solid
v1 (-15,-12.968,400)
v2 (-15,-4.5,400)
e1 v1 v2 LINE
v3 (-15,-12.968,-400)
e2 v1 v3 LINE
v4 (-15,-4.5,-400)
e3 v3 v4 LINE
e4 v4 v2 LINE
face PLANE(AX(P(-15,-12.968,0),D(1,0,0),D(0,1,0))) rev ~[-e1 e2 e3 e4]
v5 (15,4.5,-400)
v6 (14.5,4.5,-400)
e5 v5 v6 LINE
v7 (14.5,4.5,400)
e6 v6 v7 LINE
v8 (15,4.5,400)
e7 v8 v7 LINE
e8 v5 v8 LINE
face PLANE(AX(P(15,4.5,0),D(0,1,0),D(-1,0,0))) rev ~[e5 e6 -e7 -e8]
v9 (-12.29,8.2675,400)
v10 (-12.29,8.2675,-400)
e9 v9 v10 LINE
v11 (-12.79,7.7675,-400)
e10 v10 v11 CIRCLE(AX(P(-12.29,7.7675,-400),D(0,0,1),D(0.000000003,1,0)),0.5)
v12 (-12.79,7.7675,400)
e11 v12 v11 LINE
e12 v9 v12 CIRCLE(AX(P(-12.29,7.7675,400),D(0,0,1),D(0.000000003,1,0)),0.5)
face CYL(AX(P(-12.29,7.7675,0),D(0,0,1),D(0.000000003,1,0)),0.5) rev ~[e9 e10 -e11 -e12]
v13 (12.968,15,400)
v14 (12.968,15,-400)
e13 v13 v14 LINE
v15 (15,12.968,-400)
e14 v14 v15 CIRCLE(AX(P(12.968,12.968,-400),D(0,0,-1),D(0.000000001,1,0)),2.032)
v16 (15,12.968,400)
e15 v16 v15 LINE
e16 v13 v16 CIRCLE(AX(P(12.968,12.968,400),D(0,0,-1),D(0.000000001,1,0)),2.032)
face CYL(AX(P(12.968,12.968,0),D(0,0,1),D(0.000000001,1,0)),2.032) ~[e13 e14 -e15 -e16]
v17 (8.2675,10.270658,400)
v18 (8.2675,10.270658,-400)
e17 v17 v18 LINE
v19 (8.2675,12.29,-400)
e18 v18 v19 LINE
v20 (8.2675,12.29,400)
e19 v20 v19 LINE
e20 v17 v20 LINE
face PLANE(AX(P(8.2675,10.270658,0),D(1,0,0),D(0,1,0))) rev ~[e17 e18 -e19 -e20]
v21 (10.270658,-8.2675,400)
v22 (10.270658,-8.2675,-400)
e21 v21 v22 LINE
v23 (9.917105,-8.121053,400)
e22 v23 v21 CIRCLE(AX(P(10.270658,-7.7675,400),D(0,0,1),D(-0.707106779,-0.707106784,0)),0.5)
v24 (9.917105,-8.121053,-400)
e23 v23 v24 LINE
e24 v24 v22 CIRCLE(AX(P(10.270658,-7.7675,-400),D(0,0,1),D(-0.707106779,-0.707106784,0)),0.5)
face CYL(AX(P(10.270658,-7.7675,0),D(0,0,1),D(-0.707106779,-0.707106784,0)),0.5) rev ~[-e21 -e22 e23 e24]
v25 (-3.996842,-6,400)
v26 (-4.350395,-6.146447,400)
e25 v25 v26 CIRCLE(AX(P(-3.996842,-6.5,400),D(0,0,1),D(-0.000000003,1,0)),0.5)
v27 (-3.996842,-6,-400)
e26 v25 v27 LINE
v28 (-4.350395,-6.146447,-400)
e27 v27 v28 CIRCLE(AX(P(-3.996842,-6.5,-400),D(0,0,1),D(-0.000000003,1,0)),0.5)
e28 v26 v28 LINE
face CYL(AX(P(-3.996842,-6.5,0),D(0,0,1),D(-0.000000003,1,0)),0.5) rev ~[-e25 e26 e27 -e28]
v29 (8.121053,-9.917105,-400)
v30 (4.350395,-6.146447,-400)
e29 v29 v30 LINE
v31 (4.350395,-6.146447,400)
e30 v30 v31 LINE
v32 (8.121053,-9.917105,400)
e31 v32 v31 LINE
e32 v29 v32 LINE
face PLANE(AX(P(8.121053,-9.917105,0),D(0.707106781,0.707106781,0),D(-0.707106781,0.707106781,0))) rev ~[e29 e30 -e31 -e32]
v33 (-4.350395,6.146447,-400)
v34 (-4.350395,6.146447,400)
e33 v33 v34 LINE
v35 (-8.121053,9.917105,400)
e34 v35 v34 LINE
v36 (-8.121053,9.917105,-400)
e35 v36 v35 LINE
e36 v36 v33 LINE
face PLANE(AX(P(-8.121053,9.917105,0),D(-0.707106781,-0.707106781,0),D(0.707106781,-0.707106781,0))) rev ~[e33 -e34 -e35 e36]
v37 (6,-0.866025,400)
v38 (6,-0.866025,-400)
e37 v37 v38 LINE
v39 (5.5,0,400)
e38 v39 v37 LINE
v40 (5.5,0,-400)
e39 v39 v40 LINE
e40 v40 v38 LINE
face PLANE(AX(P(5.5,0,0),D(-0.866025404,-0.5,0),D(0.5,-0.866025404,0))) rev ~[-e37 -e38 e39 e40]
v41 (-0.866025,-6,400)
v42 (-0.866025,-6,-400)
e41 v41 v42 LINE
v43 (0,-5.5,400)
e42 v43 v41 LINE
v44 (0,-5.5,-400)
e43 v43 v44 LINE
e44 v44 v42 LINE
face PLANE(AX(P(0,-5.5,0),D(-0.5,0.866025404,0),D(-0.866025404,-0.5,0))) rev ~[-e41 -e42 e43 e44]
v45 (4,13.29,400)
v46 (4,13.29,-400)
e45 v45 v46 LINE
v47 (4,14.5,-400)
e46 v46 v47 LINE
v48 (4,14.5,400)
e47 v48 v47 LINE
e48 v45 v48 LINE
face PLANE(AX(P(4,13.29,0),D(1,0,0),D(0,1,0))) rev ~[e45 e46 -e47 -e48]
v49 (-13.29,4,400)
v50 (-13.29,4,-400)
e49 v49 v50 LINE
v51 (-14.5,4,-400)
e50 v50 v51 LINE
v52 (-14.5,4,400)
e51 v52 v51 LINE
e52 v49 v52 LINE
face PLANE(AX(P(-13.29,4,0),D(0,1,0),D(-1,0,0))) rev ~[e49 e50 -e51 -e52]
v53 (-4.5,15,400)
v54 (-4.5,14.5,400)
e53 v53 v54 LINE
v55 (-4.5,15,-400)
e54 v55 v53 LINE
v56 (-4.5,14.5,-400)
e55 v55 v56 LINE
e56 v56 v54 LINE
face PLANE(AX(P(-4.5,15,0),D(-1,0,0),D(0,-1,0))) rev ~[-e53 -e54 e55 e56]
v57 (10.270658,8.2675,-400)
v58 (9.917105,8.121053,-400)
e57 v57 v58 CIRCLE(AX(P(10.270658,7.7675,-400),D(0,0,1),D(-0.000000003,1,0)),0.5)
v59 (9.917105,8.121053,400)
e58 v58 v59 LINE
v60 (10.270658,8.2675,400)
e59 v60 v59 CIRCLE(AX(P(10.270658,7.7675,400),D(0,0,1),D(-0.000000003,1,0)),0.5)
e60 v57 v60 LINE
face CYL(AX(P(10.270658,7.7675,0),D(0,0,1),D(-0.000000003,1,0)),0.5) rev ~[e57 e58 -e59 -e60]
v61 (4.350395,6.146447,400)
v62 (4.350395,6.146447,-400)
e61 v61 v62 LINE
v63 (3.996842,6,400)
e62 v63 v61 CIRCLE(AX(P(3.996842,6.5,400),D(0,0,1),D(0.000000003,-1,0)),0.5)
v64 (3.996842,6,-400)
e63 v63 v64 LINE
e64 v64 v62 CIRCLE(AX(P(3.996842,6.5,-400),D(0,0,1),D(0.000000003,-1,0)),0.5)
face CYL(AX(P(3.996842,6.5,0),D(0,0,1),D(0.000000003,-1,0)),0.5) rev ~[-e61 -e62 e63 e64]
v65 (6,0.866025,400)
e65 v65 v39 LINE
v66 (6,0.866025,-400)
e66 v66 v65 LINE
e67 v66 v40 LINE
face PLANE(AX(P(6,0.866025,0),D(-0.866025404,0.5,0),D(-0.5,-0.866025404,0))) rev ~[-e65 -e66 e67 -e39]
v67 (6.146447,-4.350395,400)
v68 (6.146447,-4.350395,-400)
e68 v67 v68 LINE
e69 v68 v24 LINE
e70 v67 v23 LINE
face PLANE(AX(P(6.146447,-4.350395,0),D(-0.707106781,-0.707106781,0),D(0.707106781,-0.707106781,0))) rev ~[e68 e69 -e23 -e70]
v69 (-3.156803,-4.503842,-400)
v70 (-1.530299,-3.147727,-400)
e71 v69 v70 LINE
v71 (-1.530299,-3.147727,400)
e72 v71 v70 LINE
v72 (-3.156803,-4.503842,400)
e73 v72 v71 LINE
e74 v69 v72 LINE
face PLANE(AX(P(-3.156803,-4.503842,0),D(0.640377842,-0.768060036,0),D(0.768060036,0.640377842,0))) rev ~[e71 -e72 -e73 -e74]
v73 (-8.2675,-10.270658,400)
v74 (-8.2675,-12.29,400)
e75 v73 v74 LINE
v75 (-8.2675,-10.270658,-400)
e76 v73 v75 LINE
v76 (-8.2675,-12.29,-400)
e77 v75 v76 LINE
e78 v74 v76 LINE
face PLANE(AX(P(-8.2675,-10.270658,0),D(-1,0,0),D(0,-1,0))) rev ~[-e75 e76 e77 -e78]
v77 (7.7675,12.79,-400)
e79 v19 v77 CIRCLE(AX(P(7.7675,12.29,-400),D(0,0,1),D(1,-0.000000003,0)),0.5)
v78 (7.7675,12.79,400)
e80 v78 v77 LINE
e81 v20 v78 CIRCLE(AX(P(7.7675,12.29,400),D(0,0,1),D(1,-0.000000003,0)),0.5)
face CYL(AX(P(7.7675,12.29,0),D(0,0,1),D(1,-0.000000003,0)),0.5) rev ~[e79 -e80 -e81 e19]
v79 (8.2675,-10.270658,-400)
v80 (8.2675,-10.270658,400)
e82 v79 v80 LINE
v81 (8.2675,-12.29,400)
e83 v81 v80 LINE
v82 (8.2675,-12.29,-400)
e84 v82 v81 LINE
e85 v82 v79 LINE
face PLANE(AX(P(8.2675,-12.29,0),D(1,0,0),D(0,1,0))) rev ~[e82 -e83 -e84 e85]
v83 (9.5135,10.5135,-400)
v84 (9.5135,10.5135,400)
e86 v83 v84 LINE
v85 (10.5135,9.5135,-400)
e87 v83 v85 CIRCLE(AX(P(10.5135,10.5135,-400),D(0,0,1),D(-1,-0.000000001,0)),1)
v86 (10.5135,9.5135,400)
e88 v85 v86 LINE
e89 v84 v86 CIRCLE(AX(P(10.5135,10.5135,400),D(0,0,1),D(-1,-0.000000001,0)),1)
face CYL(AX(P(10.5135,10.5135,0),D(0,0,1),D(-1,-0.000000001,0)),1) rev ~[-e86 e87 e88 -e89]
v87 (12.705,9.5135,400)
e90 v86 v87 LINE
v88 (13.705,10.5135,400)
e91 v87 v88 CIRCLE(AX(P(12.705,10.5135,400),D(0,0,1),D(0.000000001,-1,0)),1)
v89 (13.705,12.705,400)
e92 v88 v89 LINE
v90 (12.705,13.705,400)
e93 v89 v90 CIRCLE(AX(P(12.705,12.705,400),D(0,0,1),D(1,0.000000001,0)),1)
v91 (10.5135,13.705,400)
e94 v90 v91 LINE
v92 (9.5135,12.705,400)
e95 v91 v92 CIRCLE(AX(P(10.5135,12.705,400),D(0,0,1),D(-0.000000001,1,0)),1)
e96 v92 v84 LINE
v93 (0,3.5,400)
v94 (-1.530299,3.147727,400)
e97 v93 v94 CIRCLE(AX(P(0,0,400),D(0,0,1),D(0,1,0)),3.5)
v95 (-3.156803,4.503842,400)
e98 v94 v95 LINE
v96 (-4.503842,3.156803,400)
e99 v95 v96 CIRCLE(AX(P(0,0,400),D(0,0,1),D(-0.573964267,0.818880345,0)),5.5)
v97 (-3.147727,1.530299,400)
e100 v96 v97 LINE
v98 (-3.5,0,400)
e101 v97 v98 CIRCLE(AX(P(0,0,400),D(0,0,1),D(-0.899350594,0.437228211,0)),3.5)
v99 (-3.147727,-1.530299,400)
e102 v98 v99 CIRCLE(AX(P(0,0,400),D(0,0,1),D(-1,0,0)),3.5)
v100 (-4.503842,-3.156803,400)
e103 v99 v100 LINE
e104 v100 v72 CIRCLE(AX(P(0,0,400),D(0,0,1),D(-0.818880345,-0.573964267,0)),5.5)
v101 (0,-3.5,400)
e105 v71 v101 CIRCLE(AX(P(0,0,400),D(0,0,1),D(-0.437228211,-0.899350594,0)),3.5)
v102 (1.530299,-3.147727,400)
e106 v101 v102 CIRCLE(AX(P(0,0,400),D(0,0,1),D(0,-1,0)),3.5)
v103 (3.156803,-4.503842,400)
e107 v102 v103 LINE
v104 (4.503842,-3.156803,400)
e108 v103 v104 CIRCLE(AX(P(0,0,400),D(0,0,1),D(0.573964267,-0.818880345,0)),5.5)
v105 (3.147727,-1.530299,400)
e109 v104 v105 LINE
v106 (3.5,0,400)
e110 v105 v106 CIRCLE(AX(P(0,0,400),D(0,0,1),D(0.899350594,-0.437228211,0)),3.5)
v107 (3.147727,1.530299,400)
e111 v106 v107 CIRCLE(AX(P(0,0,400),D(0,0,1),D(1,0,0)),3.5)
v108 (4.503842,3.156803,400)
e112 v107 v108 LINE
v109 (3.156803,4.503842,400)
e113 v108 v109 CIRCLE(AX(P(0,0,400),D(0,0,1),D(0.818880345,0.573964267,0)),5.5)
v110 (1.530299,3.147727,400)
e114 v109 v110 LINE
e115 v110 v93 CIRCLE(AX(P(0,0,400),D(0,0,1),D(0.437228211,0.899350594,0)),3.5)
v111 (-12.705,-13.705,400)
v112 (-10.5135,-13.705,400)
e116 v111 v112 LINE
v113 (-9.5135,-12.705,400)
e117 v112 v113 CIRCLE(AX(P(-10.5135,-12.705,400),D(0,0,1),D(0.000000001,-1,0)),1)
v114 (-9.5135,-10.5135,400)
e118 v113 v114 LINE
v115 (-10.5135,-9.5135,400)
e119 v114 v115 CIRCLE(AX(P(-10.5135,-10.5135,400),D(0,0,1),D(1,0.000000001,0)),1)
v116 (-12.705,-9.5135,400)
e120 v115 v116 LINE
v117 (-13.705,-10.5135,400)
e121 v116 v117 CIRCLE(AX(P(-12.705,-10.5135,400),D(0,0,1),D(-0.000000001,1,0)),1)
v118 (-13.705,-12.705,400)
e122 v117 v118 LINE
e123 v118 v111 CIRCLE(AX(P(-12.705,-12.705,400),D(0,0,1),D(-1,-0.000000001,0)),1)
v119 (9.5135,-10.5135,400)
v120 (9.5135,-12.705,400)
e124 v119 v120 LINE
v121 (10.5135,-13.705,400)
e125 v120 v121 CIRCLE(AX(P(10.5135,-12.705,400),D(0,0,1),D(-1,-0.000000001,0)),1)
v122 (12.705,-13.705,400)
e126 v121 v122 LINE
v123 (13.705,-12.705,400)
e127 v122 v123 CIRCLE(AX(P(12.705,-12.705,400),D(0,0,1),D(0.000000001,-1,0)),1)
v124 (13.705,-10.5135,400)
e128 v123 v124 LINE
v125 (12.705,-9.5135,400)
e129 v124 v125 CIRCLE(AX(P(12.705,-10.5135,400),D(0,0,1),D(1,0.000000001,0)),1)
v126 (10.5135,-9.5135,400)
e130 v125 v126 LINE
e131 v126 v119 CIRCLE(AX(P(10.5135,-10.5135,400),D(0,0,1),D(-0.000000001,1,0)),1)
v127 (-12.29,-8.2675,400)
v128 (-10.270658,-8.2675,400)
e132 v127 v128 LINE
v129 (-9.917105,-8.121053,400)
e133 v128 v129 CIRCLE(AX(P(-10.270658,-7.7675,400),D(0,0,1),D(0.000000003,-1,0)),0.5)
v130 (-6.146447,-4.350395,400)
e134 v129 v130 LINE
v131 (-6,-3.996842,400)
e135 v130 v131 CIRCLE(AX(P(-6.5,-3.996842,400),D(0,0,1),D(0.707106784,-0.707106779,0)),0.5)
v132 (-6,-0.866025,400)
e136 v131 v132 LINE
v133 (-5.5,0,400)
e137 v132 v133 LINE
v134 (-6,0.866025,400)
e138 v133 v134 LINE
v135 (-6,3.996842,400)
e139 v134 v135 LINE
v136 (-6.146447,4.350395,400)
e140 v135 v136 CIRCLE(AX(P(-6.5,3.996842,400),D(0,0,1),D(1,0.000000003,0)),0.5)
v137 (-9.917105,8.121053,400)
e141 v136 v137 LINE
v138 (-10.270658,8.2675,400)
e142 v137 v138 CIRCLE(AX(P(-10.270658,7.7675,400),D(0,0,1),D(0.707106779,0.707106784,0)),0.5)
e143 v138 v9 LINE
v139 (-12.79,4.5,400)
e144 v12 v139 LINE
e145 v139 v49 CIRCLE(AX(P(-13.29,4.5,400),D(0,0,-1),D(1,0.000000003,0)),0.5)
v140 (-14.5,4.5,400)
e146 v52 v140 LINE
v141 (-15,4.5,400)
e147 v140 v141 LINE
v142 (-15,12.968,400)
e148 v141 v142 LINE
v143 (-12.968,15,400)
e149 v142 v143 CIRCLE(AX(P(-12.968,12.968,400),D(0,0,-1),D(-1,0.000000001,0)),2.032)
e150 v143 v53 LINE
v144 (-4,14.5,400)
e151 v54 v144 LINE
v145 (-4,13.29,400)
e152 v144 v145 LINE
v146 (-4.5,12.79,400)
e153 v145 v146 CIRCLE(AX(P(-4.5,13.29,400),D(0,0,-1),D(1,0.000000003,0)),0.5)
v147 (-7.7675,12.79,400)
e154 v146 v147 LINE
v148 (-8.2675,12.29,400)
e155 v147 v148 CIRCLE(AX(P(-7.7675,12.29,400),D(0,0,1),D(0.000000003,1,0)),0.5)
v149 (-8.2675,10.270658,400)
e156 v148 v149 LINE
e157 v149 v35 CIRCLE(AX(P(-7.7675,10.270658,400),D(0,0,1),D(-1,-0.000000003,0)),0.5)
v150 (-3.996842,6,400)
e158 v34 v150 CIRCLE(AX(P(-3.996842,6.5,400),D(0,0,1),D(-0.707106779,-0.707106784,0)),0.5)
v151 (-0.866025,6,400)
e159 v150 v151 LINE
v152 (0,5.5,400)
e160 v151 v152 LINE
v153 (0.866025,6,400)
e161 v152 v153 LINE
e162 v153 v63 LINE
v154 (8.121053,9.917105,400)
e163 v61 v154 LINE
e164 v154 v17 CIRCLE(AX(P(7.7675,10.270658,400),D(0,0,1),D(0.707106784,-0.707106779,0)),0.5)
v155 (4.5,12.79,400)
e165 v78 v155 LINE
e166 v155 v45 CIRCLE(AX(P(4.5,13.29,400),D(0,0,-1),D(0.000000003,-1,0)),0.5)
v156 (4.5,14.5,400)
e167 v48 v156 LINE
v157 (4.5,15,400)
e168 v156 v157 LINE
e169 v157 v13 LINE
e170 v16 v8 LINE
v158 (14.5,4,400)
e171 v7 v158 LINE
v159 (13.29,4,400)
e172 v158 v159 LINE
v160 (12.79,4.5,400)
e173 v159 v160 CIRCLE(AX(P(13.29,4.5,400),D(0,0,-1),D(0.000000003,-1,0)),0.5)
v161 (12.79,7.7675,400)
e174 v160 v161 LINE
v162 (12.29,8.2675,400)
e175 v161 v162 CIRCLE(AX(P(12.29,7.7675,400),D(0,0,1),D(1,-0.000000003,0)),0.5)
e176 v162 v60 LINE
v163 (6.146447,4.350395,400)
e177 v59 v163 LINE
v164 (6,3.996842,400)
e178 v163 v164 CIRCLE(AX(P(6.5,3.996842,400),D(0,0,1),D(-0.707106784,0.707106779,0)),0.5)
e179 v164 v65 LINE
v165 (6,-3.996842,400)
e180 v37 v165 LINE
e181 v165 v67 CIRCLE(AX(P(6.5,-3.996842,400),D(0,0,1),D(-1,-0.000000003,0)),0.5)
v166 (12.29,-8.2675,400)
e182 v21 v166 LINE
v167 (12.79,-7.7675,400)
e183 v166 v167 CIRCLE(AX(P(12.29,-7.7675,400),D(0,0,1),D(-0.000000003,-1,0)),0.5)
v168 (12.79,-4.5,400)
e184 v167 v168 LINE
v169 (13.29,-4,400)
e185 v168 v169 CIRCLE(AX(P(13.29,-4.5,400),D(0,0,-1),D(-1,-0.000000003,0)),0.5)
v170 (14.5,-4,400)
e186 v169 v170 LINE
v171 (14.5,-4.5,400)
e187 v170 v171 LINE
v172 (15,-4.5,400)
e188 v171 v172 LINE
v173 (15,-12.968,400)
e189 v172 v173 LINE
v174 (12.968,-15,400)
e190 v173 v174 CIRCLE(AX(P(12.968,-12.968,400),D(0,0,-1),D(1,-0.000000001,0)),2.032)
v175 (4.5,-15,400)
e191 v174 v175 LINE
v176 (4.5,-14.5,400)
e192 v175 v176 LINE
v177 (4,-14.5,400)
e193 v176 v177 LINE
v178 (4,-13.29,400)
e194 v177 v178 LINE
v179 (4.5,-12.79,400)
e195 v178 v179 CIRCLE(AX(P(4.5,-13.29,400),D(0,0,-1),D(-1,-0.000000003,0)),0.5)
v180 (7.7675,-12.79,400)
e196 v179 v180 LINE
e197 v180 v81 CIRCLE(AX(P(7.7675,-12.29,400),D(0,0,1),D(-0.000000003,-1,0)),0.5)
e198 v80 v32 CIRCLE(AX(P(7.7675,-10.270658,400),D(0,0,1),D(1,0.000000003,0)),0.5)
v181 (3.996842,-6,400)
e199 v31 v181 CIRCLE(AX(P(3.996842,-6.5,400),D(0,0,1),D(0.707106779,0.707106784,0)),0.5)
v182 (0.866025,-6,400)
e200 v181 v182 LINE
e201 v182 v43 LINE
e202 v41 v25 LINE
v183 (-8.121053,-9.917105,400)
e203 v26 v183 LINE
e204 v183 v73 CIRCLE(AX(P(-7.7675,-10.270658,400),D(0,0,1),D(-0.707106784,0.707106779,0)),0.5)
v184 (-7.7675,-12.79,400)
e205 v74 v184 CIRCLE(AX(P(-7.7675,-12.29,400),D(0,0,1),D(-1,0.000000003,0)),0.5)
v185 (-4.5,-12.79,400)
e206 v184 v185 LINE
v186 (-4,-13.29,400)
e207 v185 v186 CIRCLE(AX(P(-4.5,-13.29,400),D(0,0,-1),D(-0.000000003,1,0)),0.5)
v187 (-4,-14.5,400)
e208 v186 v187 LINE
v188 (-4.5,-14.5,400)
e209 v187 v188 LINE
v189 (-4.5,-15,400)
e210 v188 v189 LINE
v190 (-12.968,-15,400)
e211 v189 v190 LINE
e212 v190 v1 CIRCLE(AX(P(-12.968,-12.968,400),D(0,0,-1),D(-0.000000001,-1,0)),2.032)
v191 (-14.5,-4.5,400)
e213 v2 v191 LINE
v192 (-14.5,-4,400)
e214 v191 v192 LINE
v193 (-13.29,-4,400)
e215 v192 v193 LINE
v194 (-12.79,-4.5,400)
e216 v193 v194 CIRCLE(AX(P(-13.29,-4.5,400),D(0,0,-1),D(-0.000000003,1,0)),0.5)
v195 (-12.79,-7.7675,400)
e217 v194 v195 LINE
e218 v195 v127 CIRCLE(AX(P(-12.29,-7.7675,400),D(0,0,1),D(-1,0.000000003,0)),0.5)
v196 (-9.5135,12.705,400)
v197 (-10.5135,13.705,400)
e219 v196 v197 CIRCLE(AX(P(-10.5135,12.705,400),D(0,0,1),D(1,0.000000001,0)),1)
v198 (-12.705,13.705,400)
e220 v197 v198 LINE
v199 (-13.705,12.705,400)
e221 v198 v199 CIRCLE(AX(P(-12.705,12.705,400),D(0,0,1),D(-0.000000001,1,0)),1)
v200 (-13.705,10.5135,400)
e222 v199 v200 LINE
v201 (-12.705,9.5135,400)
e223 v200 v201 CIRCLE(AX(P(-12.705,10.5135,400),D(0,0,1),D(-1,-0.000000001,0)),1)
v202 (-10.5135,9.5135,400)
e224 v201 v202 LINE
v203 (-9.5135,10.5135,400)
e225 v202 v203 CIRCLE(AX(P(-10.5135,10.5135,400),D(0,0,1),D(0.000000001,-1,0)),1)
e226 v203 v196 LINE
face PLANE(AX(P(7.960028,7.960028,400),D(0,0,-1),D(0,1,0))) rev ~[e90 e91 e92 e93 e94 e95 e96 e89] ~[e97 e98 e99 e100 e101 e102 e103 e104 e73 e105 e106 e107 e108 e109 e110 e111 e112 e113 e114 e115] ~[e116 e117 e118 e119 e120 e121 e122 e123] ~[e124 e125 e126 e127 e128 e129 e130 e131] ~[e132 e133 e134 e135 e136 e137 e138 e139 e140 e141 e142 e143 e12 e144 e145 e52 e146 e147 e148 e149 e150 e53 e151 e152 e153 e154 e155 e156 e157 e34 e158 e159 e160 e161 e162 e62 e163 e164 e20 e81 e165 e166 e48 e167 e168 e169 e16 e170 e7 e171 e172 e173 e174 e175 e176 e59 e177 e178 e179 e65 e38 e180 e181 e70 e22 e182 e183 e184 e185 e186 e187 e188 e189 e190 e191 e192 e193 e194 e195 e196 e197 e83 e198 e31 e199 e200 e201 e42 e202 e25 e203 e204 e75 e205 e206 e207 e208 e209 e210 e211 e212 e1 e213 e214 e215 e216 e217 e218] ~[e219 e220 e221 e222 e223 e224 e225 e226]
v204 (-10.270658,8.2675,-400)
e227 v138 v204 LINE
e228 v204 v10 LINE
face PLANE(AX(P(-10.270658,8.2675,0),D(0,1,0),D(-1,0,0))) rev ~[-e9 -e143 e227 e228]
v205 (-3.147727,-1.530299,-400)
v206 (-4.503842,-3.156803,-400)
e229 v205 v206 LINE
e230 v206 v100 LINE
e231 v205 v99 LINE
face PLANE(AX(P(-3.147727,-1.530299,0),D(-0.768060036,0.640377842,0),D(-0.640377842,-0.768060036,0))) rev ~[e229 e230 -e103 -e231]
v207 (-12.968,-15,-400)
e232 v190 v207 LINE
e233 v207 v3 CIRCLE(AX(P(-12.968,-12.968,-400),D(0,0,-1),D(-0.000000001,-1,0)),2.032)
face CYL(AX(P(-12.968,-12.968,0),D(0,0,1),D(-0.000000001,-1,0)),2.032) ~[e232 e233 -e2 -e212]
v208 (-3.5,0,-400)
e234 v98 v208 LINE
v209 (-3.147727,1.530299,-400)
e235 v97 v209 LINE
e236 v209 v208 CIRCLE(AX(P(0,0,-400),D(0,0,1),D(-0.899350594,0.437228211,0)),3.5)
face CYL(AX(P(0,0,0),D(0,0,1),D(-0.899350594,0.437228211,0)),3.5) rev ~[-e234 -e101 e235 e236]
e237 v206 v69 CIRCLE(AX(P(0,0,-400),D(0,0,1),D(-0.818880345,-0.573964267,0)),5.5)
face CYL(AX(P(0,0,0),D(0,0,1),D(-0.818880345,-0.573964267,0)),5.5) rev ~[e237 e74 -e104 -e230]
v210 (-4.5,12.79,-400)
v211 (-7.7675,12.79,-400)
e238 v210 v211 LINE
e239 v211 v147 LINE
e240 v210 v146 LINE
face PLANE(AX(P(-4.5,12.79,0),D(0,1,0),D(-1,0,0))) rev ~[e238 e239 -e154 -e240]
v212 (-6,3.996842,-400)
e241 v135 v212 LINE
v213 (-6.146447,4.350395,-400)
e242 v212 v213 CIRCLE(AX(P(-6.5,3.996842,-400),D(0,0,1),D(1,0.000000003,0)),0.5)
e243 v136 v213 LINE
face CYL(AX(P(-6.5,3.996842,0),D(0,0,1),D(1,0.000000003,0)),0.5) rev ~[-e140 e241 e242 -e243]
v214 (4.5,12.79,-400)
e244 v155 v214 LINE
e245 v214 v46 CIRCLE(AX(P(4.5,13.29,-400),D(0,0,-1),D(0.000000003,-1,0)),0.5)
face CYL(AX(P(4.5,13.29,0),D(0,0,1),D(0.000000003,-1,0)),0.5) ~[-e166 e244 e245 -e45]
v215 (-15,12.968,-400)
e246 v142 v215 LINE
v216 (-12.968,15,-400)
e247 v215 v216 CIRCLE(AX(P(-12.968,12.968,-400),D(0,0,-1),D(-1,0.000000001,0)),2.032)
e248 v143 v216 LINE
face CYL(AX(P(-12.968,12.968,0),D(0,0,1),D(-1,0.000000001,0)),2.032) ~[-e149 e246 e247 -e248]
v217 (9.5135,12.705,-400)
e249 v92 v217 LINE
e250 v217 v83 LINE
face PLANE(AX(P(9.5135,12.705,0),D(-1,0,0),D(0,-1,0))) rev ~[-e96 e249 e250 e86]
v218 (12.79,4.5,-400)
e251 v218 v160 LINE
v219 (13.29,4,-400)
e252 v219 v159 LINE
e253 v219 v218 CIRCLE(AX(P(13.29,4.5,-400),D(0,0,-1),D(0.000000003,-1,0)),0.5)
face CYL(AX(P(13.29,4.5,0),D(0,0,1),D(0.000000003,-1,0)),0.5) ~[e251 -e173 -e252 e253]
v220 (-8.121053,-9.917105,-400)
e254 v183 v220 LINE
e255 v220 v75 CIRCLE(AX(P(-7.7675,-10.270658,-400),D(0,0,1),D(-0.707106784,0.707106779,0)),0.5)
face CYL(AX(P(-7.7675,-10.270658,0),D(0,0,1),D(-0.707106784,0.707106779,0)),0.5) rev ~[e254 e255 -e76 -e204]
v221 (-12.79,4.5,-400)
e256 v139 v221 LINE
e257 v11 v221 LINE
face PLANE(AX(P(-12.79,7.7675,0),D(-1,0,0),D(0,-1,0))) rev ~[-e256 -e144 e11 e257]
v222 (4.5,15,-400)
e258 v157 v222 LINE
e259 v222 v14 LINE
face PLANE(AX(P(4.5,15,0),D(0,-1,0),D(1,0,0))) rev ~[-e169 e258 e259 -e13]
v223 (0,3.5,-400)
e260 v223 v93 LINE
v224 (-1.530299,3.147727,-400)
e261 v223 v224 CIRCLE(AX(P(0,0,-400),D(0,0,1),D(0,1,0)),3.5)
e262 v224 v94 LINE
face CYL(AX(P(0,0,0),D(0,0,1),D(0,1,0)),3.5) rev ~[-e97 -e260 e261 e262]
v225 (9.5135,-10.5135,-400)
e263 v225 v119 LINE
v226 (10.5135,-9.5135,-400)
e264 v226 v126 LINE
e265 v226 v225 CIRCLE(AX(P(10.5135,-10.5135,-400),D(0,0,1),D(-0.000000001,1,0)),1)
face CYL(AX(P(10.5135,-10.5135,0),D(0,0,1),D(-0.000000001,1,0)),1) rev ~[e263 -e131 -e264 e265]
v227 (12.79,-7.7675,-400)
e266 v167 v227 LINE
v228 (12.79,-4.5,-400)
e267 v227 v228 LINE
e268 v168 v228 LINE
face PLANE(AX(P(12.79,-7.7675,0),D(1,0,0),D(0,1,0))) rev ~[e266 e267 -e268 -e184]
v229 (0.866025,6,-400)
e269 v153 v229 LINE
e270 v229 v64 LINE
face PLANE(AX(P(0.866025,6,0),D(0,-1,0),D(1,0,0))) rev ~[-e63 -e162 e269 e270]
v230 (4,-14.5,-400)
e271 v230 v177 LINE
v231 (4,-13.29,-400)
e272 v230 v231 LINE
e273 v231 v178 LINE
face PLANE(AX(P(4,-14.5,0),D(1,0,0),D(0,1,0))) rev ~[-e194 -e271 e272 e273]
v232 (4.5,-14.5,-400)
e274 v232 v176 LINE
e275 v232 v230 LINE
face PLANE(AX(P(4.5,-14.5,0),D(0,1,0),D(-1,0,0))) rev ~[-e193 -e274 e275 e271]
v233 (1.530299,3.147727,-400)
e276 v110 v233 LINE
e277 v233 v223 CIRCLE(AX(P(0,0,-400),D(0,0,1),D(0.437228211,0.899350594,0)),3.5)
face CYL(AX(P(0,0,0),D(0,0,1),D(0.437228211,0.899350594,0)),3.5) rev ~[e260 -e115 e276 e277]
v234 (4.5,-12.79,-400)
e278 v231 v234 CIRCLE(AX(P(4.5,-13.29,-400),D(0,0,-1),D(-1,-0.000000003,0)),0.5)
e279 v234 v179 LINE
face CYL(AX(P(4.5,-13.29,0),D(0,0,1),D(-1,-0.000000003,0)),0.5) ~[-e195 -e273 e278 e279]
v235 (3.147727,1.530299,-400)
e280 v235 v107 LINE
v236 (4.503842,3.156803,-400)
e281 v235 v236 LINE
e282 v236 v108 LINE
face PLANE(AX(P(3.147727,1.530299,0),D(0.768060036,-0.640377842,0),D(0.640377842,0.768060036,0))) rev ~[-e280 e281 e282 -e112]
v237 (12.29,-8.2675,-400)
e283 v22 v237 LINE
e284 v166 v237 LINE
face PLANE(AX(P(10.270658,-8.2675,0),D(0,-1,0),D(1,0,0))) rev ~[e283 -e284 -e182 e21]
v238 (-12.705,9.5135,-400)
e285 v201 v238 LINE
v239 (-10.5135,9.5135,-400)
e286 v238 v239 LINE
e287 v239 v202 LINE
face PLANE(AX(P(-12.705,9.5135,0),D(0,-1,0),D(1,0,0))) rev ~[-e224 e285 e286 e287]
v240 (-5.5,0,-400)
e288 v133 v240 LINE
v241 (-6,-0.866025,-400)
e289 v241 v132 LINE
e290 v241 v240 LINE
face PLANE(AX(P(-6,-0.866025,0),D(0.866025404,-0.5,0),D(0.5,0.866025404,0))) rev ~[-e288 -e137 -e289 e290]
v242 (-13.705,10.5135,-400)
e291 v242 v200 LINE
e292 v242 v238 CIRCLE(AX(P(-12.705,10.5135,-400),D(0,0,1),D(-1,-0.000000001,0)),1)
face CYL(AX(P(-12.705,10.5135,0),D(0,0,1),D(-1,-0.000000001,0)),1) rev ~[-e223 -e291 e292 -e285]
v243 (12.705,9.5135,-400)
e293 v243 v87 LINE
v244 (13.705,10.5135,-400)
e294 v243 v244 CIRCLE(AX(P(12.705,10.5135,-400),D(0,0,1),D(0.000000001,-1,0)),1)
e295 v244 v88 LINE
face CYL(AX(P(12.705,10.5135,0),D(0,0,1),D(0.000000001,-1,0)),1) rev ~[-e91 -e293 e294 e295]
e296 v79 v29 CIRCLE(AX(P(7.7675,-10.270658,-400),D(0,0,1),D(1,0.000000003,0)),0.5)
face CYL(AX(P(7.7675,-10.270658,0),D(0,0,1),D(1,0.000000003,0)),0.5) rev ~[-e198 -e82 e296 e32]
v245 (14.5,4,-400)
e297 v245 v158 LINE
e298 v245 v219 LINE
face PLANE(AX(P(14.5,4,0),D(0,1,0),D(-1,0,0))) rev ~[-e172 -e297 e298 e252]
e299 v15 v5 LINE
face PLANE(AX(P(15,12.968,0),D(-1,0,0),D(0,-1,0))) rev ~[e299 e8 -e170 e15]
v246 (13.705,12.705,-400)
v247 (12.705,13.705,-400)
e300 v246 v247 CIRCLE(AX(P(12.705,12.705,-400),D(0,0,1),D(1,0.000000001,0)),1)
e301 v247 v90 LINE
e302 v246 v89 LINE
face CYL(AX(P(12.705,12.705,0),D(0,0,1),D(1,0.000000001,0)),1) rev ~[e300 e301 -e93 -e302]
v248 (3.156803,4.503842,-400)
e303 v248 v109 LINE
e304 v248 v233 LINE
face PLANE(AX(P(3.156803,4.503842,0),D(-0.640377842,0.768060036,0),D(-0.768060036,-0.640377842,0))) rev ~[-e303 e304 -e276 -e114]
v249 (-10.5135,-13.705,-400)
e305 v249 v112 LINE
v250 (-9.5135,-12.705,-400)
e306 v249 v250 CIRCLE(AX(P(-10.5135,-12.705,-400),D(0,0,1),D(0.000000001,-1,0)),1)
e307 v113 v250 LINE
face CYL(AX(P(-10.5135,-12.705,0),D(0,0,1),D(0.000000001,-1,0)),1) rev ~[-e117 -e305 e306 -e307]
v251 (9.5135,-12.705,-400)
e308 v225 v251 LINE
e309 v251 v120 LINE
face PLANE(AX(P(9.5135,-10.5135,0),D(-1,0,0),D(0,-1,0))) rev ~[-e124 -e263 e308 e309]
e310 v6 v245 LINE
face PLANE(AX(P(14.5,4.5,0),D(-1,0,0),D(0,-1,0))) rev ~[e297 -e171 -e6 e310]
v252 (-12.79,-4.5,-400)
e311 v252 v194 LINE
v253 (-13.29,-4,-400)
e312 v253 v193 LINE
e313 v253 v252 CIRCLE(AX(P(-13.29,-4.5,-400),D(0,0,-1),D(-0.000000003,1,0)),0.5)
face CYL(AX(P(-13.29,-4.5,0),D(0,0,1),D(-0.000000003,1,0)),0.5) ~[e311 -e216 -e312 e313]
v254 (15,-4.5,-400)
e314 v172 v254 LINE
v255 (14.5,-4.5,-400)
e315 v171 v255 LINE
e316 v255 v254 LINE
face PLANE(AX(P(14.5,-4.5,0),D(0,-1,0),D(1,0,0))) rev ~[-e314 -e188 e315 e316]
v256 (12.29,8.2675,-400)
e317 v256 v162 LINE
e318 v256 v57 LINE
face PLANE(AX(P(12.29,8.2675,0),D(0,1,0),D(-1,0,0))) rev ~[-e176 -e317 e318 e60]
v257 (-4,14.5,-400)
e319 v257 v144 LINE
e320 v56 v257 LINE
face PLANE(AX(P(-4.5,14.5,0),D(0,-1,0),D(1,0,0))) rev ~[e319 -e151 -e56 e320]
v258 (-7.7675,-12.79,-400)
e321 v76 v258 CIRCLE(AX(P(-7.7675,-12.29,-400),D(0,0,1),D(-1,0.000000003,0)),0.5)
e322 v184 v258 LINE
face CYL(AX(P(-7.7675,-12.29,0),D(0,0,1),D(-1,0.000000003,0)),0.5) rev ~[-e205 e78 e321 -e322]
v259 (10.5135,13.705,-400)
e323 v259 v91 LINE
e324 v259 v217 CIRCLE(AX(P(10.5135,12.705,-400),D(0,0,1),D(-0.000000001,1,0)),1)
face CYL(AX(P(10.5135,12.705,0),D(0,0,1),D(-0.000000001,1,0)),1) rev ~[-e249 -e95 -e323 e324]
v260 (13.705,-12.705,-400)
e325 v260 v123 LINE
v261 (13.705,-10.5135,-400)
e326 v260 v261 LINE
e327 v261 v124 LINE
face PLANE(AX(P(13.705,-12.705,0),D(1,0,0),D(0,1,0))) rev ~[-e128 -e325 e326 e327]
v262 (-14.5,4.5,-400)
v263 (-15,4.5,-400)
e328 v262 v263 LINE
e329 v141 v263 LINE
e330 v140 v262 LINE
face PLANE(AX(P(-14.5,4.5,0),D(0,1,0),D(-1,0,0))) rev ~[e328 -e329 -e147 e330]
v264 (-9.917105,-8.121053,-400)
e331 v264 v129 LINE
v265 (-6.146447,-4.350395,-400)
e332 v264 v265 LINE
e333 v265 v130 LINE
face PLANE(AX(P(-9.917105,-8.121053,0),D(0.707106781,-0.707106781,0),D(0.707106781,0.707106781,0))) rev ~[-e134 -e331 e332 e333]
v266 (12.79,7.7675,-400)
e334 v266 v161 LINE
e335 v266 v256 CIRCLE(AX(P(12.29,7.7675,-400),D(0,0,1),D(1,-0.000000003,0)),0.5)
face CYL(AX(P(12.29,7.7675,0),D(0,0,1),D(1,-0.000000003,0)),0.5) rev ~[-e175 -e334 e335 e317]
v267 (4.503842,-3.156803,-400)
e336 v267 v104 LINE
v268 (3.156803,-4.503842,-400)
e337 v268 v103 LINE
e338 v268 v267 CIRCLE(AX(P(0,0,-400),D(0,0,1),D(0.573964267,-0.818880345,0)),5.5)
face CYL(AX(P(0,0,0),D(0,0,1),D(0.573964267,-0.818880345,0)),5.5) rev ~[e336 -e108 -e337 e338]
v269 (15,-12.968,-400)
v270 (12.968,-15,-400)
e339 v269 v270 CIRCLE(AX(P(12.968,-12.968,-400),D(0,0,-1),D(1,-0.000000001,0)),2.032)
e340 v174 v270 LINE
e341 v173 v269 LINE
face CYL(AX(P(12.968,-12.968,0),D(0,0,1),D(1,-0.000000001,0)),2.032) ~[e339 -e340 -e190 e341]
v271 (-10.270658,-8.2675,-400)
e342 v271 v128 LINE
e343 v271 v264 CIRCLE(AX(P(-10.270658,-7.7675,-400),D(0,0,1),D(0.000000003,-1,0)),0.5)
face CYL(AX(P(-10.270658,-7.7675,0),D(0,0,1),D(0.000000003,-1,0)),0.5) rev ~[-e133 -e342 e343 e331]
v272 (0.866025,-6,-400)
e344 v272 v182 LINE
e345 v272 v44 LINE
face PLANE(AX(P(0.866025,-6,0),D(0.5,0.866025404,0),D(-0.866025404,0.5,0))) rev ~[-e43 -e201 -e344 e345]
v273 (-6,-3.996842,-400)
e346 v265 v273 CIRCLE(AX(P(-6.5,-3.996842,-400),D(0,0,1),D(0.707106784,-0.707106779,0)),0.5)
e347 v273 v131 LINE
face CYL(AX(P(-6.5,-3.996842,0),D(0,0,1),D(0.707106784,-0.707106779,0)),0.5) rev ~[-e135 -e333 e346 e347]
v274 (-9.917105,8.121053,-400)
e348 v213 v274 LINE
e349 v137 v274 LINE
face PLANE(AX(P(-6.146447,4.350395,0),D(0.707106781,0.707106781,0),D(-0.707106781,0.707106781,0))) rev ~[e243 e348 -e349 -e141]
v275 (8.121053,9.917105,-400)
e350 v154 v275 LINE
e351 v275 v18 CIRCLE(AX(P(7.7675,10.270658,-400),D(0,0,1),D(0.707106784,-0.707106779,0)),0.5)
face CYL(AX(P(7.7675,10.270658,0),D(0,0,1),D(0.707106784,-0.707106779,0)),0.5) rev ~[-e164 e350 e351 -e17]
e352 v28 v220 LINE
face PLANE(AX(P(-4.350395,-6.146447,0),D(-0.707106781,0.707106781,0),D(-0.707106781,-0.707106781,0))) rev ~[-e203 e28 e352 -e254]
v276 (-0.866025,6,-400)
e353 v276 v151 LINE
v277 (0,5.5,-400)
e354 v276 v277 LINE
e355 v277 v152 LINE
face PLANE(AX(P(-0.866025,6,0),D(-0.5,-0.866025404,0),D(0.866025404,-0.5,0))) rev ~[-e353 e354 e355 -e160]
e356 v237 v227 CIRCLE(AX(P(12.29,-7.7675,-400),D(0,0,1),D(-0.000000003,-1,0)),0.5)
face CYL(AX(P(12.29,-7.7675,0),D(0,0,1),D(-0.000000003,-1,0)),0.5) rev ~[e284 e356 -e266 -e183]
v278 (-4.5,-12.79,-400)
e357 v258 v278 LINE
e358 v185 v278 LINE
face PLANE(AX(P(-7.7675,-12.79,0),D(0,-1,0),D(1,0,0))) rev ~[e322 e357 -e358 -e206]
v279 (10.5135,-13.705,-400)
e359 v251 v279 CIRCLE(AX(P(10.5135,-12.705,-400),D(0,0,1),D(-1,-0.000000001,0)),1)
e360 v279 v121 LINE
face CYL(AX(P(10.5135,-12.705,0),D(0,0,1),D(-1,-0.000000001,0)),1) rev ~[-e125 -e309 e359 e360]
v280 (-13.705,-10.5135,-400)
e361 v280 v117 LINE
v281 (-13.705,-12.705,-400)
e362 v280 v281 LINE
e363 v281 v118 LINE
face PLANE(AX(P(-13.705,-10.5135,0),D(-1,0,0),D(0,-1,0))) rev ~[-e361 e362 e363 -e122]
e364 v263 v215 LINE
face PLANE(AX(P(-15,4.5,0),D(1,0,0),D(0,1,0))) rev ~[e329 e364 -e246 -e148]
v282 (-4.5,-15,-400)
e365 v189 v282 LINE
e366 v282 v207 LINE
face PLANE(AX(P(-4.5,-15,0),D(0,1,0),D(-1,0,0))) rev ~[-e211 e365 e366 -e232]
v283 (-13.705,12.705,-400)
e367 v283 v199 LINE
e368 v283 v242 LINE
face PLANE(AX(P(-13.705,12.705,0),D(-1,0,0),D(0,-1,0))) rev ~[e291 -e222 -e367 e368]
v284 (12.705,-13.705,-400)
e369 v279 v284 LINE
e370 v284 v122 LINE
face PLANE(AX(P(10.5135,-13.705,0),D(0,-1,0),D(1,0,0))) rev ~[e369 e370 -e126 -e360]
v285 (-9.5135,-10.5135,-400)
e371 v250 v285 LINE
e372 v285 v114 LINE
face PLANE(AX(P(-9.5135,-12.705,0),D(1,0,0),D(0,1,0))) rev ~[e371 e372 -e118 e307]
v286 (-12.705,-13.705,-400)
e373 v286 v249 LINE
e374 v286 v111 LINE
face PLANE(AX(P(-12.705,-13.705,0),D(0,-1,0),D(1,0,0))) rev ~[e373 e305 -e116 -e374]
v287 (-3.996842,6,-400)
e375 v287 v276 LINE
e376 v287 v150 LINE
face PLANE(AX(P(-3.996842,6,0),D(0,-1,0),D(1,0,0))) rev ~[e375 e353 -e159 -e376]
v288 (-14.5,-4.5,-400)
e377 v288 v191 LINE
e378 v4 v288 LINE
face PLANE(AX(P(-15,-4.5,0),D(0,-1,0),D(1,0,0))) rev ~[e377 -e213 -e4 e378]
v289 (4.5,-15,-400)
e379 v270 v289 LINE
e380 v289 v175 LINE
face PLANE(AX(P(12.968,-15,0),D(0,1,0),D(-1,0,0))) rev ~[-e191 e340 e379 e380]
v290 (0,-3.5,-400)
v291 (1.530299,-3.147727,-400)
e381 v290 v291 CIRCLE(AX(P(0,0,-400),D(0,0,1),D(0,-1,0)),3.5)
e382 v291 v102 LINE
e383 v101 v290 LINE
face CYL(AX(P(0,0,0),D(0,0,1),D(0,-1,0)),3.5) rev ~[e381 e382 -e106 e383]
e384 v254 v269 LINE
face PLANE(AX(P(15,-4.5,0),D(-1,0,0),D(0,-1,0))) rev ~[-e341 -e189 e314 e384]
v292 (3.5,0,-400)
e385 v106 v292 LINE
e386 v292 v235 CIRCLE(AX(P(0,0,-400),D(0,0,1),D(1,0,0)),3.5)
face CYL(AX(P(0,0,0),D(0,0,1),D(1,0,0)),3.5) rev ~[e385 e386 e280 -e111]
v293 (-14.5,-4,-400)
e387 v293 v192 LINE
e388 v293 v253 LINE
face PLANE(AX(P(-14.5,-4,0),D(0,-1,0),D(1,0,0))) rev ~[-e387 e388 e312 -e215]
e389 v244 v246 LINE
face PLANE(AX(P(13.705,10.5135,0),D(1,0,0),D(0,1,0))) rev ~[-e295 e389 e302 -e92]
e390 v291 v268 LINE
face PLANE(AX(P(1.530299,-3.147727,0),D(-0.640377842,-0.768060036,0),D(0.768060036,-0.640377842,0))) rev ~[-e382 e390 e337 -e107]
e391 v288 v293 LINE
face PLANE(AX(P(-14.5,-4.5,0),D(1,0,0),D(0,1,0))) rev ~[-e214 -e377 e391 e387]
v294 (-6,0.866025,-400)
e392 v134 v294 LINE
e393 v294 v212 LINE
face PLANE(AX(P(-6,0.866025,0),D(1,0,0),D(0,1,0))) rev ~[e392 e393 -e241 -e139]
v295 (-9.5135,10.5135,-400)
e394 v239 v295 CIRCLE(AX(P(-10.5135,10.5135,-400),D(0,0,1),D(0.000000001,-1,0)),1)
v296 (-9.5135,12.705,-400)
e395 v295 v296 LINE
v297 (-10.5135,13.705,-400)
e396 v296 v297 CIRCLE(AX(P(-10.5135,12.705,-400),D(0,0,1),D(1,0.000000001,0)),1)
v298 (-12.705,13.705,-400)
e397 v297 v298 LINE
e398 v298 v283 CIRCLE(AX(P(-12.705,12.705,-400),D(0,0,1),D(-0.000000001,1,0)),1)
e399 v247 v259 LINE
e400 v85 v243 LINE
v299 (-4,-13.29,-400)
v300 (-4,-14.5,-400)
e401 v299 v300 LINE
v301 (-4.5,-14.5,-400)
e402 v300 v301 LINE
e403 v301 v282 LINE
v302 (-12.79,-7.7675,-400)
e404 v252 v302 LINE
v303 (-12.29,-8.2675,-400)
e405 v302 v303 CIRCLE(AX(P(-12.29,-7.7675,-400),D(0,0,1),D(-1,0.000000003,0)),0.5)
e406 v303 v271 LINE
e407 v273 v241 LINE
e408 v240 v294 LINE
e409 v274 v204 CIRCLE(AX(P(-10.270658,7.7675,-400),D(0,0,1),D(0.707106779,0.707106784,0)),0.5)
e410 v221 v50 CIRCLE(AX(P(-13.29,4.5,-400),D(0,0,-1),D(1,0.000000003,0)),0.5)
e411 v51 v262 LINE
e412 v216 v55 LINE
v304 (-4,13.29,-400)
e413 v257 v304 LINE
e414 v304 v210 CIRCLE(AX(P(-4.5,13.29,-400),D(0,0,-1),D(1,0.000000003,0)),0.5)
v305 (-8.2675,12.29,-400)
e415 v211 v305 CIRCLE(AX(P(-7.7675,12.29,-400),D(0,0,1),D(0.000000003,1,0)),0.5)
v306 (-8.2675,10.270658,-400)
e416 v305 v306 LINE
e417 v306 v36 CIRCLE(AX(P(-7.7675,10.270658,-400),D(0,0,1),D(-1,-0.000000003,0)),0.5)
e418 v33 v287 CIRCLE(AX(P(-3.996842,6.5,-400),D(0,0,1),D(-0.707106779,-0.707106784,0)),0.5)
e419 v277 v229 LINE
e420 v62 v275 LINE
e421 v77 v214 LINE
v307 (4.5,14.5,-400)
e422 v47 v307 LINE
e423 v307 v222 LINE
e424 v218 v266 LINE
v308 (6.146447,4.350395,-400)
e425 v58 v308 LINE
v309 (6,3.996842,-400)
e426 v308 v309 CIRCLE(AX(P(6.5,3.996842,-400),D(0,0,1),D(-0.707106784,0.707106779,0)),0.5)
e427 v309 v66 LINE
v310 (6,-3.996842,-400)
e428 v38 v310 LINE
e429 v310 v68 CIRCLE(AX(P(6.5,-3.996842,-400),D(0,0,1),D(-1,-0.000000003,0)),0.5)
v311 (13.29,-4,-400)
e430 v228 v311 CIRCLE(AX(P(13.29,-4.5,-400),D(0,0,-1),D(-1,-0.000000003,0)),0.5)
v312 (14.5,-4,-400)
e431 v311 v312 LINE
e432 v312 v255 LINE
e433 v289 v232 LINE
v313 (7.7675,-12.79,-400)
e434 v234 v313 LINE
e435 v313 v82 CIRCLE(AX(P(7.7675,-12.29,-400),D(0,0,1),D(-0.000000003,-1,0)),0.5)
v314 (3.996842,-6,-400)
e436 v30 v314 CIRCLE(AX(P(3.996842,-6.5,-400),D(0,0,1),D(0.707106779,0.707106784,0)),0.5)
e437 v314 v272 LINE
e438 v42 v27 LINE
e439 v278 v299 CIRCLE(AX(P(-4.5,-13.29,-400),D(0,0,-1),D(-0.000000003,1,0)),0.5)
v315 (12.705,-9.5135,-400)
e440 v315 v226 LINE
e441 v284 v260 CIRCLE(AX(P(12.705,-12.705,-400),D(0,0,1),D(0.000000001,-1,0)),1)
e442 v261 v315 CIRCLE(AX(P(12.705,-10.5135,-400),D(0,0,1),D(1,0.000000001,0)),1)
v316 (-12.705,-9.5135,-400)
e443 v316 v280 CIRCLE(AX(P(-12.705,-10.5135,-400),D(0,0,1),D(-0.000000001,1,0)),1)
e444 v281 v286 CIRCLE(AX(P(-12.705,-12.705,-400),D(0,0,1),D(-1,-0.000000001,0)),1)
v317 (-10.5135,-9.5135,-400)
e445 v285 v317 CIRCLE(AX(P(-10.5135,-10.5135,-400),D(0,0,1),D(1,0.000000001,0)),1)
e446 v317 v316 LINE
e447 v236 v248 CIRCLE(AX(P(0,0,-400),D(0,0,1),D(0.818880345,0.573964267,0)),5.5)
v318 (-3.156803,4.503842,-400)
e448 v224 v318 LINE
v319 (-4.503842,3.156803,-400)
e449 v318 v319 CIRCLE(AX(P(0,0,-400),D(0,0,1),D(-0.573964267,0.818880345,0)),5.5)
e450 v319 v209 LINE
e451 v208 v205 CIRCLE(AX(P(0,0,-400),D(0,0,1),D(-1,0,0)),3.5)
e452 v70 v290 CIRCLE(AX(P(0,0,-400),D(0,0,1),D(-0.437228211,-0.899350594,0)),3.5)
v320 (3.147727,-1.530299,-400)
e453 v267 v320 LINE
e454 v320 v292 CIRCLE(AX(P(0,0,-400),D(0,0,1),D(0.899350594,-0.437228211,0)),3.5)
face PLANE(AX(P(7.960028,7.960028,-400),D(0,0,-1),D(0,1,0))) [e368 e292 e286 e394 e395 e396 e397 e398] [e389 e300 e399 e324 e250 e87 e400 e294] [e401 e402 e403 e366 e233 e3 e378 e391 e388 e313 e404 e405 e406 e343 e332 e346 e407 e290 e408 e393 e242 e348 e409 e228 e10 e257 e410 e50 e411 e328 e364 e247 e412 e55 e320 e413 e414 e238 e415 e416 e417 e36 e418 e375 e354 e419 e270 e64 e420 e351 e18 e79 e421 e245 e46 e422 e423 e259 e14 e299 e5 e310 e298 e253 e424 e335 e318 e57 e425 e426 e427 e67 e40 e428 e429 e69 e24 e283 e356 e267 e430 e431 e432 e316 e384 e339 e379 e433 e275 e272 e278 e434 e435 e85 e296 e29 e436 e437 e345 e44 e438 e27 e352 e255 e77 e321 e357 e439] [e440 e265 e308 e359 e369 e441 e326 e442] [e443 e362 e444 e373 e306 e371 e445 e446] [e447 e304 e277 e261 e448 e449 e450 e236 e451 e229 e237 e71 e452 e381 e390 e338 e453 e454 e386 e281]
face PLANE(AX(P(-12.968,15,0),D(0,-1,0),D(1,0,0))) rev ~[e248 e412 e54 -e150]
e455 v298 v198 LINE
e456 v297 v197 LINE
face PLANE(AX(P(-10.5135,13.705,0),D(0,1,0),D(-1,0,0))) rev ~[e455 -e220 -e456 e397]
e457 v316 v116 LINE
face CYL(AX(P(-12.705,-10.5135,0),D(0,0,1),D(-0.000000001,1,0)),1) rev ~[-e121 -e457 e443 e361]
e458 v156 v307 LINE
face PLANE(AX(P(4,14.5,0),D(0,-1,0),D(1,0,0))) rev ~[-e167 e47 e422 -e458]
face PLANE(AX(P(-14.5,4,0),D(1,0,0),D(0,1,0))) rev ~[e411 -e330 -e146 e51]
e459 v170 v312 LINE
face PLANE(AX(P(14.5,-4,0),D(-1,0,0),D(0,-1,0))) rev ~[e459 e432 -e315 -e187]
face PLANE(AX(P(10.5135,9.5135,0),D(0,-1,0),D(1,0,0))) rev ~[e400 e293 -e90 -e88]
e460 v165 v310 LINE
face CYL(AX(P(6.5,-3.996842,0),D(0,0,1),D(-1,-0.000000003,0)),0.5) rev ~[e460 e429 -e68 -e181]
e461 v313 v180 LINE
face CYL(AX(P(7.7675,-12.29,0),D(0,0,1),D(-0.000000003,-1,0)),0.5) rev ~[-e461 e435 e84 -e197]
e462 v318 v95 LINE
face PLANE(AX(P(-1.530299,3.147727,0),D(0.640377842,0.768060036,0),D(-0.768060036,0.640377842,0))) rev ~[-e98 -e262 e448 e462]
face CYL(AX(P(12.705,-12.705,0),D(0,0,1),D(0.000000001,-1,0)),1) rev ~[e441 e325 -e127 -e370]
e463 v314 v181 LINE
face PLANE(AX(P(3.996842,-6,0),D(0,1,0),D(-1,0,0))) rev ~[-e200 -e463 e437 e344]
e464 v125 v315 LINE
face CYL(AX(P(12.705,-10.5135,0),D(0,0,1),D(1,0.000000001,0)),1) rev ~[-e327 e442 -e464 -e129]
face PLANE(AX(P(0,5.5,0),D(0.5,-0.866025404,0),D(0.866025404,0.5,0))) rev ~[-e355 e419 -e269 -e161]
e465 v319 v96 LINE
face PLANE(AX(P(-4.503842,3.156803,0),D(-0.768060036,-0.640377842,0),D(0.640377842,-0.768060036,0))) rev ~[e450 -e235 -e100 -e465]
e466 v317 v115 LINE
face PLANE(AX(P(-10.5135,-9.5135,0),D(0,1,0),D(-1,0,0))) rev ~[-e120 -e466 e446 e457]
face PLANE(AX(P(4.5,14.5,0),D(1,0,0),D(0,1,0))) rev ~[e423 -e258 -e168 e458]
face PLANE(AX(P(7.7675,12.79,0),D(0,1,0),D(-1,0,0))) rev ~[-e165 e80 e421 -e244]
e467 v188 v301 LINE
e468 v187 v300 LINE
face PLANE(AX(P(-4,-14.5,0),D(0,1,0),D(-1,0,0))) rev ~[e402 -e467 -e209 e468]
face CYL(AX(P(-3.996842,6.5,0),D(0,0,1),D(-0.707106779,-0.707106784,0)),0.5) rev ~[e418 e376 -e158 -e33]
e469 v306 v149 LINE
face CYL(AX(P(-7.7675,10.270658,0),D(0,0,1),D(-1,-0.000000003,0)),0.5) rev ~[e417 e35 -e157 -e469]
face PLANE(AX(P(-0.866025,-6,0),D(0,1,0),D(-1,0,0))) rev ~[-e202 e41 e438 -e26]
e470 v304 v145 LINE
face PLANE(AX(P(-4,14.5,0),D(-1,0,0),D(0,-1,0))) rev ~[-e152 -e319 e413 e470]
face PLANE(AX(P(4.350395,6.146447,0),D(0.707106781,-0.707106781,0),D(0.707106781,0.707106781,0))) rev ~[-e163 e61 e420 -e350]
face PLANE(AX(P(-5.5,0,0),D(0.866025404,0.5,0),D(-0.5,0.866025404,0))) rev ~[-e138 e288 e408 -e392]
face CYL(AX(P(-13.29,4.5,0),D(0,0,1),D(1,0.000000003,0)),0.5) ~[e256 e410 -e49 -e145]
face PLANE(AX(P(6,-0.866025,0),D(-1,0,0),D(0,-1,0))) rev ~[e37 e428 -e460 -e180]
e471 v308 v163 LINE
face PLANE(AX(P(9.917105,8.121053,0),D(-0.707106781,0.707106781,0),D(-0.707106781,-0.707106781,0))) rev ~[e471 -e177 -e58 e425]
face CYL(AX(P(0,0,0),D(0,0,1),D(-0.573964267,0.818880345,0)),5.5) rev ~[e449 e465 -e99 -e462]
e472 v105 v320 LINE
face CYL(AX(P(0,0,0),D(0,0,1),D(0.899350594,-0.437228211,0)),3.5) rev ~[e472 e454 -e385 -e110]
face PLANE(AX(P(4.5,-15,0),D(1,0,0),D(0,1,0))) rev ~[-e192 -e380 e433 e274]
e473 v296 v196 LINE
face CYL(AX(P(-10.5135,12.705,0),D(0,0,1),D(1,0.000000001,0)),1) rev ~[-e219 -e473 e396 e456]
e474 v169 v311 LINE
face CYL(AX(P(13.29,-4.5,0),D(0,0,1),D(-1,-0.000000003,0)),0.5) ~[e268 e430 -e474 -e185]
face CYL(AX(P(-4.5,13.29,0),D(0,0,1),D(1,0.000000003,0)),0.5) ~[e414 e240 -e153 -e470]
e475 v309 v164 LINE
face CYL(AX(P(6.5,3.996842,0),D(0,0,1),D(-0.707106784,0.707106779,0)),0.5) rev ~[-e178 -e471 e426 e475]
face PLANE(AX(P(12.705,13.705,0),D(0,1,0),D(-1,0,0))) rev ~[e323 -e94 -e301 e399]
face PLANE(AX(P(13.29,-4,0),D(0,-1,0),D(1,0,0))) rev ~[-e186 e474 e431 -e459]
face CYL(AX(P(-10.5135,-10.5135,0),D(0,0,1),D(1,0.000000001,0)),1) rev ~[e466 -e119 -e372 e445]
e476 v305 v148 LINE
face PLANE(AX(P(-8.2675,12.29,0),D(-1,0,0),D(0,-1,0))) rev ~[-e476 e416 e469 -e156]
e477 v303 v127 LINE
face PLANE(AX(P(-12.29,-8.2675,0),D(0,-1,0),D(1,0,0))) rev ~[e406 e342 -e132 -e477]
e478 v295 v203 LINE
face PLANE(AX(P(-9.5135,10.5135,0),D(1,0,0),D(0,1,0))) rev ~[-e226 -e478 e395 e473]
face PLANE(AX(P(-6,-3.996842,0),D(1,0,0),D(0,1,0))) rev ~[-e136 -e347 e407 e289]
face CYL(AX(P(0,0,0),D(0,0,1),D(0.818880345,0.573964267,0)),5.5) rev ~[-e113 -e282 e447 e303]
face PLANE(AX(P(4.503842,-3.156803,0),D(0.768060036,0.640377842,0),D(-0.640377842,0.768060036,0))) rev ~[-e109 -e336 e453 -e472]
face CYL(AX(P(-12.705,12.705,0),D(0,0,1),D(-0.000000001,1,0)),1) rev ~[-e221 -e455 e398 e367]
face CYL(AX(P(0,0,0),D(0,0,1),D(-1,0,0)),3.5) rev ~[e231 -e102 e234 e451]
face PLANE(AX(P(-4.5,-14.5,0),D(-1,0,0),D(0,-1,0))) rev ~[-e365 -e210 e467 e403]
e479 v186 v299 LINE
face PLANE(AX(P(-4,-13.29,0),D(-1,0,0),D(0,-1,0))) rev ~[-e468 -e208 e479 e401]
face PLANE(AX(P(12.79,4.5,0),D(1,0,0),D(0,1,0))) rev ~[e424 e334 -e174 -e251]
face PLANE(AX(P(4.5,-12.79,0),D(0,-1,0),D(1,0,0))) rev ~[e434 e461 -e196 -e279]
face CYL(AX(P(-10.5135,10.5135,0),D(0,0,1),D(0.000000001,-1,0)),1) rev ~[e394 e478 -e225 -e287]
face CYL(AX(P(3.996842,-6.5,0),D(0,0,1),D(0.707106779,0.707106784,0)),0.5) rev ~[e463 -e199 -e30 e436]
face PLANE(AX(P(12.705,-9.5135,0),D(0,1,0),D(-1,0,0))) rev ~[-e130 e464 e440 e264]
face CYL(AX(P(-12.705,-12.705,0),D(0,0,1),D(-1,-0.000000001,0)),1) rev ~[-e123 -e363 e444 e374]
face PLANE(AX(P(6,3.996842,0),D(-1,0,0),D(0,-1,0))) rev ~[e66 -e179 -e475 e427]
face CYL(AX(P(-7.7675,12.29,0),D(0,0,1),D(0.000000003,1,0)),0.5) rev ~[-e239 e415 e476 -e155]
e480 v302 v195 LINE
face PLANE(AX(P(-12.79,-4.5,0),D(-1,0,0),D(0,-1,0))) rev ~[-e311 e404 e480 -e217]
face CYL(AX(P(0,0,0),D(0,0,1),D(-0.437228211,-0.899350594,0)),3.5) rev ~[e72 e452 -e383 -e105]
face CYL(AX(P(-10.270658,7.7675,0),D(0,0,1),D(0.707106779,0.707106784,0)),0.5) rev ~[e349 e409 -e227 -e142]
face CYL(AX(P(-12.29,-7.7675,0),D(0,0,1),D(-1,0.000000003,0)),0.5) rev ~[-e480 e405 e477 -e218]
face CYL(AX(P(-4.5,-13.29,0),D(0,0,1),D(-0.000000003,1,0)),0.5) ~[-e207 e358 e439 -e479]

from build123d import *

# Parameters (mm, degrees)
BOSS_EXTRUDE1_DEPTH = 400
CIRPATTERN1_COUNT   = 4


with BuildPart() as part:
    # Sketch3 → Boss-Extrude1 (new, symmetric)
    with BuildSketch(Plane.XY):
        with BuildLine():
            Line((-4.503841895, 3.156803476), (-3.14772708, 1.530298739))
            ThreePointArc((-3.14772708, 1.530298739), (-3.410794979, 0.785160882), (-3.5, 0))
            Line((-3.5, 0), (-5.5, 0))
            Line((-5.5, 0), (-6, 0.866025404))
            Line((-6, 0.866025404), (-6, 3.996841995))
            ThreePointArc((-6, 3.996841995), (-6.038060234, 4.188183711), (-6.146446609, 4.350395385))
            Line((-6.146446609, 4.350395385), (-9.917104615, 8.121053391))
            ThreePointArc((-9.917104615, 8.121053391), (-10.079316289, 8.229439766), (-10.270658005, 8.2675))
            Line((-10.270658005, 8.2675), (-12.29, 8.2675))
            ThreePointArc((-12.29, 8.2675), (-12.643553391, 8.121053391), (-12.79, 7.7675))
            Line((-12.79, 7.7675), (-12.79, 4.5))
            ThreePointArc((-12.79, 4.5), (-12.936446609, 4.146446609), (-13.29, 4))
            Line((-13.29, 4), (-14.5, 4))
            Line((-14.5, 4), (-14.5, 4.5))
            Line((-14.5, 4.5), (-15, 4.5))
            Line((-15, 4.5), (-15, 12.968))
            ThreePointArc((-15, 12.968), (-14.404840979, 14.404840979), (-12.968, 15))
            Line((-12.968, 15), (-4.5, 15))
            Line((-4.5, 15), (-4.5, 14.5))
            Line((-4.5, 14.5), (-4, 14.5))
            Line((-4, 14.5), (-4, 13.29))
            ThreePointArc((-4, 13.29), (-4.146446609, 12.936446609), (-4.5, 12.79))
            Line((-4.5, 12.79), (-7.7675, 12.79))
            ThreePointArc((-7.7675, 12.79), (-8.121053391, 12.643553391), (-8.2675, 12.29))
            Line((-8.2675, 12.29), (-8.2675, 10.270658005))
            ThreePointArc((-8.2675, 10.270658005), (-8.229439766, 10.079316289), (-8.121053391, 9.917104615))
            Line((-8.121053391, 9.917104615), (-4.350395385, 6.146446609))
            ThreePointArc((-4.350395385, 6.146446609), (-4.188183711, 6.038060234), (-3.996841995, 6))
            Line((-3.996841995, 6), (-0.866025404, 6))
            Line((-0.866025404, 6), (0, 5.5))
            Line((0, 5.5), (0, 3.5))
            ThreePointArc((0, 3.5), (-0.785160882, 3.410794979), (-1.530298739, 3.14772708))
            Line((-1.530298739, 3.14772708), (-3.156803476, 4.503841895))
            ThreePointArc((-3.156803476, 4.503841895), (-3.889087297, 3.889087297), (-4.503841895, 3.156803476))
        make_face()
        with BuildLine():
            Line((-12.705, 9.5135), (-10.5135, 9.5135))
            ThreePointArc((-10.5135, 9.5135), (-9.806393219, 9.806393219), (-9.5135, 10.5135))
            Line((-9.5135, 10.5135), (-9.5135, 12.705))
            ThreePointArc((-9.5135, 12.705), (-9.806393219, 13.412106781), (-10.5135, 13.705))
            Line((-10.5135, 13.705), (-12.705, 13.705))
            ThreePointArc((-12.705, 13.705), (-13.412106781, 13.412106781), (-13.705, 12.705))
            Line((-13.705, 12.705), (-13.705, 10.5135))
            ThreePointArc((-13.705, 10.5135), (-13.412106781, 9.806393219), (-12.705, 9.5135))
        make_face(mode=Mode.SUBTRACT)
    boss_extrude1 = extrude(amount=BOSS_EXTRUDE1_DEPTH, both=True)

    # CirPattern1: Boss-Extrude1 ×4 about axis
    cirpattern1_axis = Axis((0, 0, 0), (0, 0, 1))
    for i in range(1, CIRPATTERN1_COUNT):
        add(boss_extrude1.rotate(cirpattern1_axis, i * 360 / CIRPATTERN1_COUNT))


solid = part.part
